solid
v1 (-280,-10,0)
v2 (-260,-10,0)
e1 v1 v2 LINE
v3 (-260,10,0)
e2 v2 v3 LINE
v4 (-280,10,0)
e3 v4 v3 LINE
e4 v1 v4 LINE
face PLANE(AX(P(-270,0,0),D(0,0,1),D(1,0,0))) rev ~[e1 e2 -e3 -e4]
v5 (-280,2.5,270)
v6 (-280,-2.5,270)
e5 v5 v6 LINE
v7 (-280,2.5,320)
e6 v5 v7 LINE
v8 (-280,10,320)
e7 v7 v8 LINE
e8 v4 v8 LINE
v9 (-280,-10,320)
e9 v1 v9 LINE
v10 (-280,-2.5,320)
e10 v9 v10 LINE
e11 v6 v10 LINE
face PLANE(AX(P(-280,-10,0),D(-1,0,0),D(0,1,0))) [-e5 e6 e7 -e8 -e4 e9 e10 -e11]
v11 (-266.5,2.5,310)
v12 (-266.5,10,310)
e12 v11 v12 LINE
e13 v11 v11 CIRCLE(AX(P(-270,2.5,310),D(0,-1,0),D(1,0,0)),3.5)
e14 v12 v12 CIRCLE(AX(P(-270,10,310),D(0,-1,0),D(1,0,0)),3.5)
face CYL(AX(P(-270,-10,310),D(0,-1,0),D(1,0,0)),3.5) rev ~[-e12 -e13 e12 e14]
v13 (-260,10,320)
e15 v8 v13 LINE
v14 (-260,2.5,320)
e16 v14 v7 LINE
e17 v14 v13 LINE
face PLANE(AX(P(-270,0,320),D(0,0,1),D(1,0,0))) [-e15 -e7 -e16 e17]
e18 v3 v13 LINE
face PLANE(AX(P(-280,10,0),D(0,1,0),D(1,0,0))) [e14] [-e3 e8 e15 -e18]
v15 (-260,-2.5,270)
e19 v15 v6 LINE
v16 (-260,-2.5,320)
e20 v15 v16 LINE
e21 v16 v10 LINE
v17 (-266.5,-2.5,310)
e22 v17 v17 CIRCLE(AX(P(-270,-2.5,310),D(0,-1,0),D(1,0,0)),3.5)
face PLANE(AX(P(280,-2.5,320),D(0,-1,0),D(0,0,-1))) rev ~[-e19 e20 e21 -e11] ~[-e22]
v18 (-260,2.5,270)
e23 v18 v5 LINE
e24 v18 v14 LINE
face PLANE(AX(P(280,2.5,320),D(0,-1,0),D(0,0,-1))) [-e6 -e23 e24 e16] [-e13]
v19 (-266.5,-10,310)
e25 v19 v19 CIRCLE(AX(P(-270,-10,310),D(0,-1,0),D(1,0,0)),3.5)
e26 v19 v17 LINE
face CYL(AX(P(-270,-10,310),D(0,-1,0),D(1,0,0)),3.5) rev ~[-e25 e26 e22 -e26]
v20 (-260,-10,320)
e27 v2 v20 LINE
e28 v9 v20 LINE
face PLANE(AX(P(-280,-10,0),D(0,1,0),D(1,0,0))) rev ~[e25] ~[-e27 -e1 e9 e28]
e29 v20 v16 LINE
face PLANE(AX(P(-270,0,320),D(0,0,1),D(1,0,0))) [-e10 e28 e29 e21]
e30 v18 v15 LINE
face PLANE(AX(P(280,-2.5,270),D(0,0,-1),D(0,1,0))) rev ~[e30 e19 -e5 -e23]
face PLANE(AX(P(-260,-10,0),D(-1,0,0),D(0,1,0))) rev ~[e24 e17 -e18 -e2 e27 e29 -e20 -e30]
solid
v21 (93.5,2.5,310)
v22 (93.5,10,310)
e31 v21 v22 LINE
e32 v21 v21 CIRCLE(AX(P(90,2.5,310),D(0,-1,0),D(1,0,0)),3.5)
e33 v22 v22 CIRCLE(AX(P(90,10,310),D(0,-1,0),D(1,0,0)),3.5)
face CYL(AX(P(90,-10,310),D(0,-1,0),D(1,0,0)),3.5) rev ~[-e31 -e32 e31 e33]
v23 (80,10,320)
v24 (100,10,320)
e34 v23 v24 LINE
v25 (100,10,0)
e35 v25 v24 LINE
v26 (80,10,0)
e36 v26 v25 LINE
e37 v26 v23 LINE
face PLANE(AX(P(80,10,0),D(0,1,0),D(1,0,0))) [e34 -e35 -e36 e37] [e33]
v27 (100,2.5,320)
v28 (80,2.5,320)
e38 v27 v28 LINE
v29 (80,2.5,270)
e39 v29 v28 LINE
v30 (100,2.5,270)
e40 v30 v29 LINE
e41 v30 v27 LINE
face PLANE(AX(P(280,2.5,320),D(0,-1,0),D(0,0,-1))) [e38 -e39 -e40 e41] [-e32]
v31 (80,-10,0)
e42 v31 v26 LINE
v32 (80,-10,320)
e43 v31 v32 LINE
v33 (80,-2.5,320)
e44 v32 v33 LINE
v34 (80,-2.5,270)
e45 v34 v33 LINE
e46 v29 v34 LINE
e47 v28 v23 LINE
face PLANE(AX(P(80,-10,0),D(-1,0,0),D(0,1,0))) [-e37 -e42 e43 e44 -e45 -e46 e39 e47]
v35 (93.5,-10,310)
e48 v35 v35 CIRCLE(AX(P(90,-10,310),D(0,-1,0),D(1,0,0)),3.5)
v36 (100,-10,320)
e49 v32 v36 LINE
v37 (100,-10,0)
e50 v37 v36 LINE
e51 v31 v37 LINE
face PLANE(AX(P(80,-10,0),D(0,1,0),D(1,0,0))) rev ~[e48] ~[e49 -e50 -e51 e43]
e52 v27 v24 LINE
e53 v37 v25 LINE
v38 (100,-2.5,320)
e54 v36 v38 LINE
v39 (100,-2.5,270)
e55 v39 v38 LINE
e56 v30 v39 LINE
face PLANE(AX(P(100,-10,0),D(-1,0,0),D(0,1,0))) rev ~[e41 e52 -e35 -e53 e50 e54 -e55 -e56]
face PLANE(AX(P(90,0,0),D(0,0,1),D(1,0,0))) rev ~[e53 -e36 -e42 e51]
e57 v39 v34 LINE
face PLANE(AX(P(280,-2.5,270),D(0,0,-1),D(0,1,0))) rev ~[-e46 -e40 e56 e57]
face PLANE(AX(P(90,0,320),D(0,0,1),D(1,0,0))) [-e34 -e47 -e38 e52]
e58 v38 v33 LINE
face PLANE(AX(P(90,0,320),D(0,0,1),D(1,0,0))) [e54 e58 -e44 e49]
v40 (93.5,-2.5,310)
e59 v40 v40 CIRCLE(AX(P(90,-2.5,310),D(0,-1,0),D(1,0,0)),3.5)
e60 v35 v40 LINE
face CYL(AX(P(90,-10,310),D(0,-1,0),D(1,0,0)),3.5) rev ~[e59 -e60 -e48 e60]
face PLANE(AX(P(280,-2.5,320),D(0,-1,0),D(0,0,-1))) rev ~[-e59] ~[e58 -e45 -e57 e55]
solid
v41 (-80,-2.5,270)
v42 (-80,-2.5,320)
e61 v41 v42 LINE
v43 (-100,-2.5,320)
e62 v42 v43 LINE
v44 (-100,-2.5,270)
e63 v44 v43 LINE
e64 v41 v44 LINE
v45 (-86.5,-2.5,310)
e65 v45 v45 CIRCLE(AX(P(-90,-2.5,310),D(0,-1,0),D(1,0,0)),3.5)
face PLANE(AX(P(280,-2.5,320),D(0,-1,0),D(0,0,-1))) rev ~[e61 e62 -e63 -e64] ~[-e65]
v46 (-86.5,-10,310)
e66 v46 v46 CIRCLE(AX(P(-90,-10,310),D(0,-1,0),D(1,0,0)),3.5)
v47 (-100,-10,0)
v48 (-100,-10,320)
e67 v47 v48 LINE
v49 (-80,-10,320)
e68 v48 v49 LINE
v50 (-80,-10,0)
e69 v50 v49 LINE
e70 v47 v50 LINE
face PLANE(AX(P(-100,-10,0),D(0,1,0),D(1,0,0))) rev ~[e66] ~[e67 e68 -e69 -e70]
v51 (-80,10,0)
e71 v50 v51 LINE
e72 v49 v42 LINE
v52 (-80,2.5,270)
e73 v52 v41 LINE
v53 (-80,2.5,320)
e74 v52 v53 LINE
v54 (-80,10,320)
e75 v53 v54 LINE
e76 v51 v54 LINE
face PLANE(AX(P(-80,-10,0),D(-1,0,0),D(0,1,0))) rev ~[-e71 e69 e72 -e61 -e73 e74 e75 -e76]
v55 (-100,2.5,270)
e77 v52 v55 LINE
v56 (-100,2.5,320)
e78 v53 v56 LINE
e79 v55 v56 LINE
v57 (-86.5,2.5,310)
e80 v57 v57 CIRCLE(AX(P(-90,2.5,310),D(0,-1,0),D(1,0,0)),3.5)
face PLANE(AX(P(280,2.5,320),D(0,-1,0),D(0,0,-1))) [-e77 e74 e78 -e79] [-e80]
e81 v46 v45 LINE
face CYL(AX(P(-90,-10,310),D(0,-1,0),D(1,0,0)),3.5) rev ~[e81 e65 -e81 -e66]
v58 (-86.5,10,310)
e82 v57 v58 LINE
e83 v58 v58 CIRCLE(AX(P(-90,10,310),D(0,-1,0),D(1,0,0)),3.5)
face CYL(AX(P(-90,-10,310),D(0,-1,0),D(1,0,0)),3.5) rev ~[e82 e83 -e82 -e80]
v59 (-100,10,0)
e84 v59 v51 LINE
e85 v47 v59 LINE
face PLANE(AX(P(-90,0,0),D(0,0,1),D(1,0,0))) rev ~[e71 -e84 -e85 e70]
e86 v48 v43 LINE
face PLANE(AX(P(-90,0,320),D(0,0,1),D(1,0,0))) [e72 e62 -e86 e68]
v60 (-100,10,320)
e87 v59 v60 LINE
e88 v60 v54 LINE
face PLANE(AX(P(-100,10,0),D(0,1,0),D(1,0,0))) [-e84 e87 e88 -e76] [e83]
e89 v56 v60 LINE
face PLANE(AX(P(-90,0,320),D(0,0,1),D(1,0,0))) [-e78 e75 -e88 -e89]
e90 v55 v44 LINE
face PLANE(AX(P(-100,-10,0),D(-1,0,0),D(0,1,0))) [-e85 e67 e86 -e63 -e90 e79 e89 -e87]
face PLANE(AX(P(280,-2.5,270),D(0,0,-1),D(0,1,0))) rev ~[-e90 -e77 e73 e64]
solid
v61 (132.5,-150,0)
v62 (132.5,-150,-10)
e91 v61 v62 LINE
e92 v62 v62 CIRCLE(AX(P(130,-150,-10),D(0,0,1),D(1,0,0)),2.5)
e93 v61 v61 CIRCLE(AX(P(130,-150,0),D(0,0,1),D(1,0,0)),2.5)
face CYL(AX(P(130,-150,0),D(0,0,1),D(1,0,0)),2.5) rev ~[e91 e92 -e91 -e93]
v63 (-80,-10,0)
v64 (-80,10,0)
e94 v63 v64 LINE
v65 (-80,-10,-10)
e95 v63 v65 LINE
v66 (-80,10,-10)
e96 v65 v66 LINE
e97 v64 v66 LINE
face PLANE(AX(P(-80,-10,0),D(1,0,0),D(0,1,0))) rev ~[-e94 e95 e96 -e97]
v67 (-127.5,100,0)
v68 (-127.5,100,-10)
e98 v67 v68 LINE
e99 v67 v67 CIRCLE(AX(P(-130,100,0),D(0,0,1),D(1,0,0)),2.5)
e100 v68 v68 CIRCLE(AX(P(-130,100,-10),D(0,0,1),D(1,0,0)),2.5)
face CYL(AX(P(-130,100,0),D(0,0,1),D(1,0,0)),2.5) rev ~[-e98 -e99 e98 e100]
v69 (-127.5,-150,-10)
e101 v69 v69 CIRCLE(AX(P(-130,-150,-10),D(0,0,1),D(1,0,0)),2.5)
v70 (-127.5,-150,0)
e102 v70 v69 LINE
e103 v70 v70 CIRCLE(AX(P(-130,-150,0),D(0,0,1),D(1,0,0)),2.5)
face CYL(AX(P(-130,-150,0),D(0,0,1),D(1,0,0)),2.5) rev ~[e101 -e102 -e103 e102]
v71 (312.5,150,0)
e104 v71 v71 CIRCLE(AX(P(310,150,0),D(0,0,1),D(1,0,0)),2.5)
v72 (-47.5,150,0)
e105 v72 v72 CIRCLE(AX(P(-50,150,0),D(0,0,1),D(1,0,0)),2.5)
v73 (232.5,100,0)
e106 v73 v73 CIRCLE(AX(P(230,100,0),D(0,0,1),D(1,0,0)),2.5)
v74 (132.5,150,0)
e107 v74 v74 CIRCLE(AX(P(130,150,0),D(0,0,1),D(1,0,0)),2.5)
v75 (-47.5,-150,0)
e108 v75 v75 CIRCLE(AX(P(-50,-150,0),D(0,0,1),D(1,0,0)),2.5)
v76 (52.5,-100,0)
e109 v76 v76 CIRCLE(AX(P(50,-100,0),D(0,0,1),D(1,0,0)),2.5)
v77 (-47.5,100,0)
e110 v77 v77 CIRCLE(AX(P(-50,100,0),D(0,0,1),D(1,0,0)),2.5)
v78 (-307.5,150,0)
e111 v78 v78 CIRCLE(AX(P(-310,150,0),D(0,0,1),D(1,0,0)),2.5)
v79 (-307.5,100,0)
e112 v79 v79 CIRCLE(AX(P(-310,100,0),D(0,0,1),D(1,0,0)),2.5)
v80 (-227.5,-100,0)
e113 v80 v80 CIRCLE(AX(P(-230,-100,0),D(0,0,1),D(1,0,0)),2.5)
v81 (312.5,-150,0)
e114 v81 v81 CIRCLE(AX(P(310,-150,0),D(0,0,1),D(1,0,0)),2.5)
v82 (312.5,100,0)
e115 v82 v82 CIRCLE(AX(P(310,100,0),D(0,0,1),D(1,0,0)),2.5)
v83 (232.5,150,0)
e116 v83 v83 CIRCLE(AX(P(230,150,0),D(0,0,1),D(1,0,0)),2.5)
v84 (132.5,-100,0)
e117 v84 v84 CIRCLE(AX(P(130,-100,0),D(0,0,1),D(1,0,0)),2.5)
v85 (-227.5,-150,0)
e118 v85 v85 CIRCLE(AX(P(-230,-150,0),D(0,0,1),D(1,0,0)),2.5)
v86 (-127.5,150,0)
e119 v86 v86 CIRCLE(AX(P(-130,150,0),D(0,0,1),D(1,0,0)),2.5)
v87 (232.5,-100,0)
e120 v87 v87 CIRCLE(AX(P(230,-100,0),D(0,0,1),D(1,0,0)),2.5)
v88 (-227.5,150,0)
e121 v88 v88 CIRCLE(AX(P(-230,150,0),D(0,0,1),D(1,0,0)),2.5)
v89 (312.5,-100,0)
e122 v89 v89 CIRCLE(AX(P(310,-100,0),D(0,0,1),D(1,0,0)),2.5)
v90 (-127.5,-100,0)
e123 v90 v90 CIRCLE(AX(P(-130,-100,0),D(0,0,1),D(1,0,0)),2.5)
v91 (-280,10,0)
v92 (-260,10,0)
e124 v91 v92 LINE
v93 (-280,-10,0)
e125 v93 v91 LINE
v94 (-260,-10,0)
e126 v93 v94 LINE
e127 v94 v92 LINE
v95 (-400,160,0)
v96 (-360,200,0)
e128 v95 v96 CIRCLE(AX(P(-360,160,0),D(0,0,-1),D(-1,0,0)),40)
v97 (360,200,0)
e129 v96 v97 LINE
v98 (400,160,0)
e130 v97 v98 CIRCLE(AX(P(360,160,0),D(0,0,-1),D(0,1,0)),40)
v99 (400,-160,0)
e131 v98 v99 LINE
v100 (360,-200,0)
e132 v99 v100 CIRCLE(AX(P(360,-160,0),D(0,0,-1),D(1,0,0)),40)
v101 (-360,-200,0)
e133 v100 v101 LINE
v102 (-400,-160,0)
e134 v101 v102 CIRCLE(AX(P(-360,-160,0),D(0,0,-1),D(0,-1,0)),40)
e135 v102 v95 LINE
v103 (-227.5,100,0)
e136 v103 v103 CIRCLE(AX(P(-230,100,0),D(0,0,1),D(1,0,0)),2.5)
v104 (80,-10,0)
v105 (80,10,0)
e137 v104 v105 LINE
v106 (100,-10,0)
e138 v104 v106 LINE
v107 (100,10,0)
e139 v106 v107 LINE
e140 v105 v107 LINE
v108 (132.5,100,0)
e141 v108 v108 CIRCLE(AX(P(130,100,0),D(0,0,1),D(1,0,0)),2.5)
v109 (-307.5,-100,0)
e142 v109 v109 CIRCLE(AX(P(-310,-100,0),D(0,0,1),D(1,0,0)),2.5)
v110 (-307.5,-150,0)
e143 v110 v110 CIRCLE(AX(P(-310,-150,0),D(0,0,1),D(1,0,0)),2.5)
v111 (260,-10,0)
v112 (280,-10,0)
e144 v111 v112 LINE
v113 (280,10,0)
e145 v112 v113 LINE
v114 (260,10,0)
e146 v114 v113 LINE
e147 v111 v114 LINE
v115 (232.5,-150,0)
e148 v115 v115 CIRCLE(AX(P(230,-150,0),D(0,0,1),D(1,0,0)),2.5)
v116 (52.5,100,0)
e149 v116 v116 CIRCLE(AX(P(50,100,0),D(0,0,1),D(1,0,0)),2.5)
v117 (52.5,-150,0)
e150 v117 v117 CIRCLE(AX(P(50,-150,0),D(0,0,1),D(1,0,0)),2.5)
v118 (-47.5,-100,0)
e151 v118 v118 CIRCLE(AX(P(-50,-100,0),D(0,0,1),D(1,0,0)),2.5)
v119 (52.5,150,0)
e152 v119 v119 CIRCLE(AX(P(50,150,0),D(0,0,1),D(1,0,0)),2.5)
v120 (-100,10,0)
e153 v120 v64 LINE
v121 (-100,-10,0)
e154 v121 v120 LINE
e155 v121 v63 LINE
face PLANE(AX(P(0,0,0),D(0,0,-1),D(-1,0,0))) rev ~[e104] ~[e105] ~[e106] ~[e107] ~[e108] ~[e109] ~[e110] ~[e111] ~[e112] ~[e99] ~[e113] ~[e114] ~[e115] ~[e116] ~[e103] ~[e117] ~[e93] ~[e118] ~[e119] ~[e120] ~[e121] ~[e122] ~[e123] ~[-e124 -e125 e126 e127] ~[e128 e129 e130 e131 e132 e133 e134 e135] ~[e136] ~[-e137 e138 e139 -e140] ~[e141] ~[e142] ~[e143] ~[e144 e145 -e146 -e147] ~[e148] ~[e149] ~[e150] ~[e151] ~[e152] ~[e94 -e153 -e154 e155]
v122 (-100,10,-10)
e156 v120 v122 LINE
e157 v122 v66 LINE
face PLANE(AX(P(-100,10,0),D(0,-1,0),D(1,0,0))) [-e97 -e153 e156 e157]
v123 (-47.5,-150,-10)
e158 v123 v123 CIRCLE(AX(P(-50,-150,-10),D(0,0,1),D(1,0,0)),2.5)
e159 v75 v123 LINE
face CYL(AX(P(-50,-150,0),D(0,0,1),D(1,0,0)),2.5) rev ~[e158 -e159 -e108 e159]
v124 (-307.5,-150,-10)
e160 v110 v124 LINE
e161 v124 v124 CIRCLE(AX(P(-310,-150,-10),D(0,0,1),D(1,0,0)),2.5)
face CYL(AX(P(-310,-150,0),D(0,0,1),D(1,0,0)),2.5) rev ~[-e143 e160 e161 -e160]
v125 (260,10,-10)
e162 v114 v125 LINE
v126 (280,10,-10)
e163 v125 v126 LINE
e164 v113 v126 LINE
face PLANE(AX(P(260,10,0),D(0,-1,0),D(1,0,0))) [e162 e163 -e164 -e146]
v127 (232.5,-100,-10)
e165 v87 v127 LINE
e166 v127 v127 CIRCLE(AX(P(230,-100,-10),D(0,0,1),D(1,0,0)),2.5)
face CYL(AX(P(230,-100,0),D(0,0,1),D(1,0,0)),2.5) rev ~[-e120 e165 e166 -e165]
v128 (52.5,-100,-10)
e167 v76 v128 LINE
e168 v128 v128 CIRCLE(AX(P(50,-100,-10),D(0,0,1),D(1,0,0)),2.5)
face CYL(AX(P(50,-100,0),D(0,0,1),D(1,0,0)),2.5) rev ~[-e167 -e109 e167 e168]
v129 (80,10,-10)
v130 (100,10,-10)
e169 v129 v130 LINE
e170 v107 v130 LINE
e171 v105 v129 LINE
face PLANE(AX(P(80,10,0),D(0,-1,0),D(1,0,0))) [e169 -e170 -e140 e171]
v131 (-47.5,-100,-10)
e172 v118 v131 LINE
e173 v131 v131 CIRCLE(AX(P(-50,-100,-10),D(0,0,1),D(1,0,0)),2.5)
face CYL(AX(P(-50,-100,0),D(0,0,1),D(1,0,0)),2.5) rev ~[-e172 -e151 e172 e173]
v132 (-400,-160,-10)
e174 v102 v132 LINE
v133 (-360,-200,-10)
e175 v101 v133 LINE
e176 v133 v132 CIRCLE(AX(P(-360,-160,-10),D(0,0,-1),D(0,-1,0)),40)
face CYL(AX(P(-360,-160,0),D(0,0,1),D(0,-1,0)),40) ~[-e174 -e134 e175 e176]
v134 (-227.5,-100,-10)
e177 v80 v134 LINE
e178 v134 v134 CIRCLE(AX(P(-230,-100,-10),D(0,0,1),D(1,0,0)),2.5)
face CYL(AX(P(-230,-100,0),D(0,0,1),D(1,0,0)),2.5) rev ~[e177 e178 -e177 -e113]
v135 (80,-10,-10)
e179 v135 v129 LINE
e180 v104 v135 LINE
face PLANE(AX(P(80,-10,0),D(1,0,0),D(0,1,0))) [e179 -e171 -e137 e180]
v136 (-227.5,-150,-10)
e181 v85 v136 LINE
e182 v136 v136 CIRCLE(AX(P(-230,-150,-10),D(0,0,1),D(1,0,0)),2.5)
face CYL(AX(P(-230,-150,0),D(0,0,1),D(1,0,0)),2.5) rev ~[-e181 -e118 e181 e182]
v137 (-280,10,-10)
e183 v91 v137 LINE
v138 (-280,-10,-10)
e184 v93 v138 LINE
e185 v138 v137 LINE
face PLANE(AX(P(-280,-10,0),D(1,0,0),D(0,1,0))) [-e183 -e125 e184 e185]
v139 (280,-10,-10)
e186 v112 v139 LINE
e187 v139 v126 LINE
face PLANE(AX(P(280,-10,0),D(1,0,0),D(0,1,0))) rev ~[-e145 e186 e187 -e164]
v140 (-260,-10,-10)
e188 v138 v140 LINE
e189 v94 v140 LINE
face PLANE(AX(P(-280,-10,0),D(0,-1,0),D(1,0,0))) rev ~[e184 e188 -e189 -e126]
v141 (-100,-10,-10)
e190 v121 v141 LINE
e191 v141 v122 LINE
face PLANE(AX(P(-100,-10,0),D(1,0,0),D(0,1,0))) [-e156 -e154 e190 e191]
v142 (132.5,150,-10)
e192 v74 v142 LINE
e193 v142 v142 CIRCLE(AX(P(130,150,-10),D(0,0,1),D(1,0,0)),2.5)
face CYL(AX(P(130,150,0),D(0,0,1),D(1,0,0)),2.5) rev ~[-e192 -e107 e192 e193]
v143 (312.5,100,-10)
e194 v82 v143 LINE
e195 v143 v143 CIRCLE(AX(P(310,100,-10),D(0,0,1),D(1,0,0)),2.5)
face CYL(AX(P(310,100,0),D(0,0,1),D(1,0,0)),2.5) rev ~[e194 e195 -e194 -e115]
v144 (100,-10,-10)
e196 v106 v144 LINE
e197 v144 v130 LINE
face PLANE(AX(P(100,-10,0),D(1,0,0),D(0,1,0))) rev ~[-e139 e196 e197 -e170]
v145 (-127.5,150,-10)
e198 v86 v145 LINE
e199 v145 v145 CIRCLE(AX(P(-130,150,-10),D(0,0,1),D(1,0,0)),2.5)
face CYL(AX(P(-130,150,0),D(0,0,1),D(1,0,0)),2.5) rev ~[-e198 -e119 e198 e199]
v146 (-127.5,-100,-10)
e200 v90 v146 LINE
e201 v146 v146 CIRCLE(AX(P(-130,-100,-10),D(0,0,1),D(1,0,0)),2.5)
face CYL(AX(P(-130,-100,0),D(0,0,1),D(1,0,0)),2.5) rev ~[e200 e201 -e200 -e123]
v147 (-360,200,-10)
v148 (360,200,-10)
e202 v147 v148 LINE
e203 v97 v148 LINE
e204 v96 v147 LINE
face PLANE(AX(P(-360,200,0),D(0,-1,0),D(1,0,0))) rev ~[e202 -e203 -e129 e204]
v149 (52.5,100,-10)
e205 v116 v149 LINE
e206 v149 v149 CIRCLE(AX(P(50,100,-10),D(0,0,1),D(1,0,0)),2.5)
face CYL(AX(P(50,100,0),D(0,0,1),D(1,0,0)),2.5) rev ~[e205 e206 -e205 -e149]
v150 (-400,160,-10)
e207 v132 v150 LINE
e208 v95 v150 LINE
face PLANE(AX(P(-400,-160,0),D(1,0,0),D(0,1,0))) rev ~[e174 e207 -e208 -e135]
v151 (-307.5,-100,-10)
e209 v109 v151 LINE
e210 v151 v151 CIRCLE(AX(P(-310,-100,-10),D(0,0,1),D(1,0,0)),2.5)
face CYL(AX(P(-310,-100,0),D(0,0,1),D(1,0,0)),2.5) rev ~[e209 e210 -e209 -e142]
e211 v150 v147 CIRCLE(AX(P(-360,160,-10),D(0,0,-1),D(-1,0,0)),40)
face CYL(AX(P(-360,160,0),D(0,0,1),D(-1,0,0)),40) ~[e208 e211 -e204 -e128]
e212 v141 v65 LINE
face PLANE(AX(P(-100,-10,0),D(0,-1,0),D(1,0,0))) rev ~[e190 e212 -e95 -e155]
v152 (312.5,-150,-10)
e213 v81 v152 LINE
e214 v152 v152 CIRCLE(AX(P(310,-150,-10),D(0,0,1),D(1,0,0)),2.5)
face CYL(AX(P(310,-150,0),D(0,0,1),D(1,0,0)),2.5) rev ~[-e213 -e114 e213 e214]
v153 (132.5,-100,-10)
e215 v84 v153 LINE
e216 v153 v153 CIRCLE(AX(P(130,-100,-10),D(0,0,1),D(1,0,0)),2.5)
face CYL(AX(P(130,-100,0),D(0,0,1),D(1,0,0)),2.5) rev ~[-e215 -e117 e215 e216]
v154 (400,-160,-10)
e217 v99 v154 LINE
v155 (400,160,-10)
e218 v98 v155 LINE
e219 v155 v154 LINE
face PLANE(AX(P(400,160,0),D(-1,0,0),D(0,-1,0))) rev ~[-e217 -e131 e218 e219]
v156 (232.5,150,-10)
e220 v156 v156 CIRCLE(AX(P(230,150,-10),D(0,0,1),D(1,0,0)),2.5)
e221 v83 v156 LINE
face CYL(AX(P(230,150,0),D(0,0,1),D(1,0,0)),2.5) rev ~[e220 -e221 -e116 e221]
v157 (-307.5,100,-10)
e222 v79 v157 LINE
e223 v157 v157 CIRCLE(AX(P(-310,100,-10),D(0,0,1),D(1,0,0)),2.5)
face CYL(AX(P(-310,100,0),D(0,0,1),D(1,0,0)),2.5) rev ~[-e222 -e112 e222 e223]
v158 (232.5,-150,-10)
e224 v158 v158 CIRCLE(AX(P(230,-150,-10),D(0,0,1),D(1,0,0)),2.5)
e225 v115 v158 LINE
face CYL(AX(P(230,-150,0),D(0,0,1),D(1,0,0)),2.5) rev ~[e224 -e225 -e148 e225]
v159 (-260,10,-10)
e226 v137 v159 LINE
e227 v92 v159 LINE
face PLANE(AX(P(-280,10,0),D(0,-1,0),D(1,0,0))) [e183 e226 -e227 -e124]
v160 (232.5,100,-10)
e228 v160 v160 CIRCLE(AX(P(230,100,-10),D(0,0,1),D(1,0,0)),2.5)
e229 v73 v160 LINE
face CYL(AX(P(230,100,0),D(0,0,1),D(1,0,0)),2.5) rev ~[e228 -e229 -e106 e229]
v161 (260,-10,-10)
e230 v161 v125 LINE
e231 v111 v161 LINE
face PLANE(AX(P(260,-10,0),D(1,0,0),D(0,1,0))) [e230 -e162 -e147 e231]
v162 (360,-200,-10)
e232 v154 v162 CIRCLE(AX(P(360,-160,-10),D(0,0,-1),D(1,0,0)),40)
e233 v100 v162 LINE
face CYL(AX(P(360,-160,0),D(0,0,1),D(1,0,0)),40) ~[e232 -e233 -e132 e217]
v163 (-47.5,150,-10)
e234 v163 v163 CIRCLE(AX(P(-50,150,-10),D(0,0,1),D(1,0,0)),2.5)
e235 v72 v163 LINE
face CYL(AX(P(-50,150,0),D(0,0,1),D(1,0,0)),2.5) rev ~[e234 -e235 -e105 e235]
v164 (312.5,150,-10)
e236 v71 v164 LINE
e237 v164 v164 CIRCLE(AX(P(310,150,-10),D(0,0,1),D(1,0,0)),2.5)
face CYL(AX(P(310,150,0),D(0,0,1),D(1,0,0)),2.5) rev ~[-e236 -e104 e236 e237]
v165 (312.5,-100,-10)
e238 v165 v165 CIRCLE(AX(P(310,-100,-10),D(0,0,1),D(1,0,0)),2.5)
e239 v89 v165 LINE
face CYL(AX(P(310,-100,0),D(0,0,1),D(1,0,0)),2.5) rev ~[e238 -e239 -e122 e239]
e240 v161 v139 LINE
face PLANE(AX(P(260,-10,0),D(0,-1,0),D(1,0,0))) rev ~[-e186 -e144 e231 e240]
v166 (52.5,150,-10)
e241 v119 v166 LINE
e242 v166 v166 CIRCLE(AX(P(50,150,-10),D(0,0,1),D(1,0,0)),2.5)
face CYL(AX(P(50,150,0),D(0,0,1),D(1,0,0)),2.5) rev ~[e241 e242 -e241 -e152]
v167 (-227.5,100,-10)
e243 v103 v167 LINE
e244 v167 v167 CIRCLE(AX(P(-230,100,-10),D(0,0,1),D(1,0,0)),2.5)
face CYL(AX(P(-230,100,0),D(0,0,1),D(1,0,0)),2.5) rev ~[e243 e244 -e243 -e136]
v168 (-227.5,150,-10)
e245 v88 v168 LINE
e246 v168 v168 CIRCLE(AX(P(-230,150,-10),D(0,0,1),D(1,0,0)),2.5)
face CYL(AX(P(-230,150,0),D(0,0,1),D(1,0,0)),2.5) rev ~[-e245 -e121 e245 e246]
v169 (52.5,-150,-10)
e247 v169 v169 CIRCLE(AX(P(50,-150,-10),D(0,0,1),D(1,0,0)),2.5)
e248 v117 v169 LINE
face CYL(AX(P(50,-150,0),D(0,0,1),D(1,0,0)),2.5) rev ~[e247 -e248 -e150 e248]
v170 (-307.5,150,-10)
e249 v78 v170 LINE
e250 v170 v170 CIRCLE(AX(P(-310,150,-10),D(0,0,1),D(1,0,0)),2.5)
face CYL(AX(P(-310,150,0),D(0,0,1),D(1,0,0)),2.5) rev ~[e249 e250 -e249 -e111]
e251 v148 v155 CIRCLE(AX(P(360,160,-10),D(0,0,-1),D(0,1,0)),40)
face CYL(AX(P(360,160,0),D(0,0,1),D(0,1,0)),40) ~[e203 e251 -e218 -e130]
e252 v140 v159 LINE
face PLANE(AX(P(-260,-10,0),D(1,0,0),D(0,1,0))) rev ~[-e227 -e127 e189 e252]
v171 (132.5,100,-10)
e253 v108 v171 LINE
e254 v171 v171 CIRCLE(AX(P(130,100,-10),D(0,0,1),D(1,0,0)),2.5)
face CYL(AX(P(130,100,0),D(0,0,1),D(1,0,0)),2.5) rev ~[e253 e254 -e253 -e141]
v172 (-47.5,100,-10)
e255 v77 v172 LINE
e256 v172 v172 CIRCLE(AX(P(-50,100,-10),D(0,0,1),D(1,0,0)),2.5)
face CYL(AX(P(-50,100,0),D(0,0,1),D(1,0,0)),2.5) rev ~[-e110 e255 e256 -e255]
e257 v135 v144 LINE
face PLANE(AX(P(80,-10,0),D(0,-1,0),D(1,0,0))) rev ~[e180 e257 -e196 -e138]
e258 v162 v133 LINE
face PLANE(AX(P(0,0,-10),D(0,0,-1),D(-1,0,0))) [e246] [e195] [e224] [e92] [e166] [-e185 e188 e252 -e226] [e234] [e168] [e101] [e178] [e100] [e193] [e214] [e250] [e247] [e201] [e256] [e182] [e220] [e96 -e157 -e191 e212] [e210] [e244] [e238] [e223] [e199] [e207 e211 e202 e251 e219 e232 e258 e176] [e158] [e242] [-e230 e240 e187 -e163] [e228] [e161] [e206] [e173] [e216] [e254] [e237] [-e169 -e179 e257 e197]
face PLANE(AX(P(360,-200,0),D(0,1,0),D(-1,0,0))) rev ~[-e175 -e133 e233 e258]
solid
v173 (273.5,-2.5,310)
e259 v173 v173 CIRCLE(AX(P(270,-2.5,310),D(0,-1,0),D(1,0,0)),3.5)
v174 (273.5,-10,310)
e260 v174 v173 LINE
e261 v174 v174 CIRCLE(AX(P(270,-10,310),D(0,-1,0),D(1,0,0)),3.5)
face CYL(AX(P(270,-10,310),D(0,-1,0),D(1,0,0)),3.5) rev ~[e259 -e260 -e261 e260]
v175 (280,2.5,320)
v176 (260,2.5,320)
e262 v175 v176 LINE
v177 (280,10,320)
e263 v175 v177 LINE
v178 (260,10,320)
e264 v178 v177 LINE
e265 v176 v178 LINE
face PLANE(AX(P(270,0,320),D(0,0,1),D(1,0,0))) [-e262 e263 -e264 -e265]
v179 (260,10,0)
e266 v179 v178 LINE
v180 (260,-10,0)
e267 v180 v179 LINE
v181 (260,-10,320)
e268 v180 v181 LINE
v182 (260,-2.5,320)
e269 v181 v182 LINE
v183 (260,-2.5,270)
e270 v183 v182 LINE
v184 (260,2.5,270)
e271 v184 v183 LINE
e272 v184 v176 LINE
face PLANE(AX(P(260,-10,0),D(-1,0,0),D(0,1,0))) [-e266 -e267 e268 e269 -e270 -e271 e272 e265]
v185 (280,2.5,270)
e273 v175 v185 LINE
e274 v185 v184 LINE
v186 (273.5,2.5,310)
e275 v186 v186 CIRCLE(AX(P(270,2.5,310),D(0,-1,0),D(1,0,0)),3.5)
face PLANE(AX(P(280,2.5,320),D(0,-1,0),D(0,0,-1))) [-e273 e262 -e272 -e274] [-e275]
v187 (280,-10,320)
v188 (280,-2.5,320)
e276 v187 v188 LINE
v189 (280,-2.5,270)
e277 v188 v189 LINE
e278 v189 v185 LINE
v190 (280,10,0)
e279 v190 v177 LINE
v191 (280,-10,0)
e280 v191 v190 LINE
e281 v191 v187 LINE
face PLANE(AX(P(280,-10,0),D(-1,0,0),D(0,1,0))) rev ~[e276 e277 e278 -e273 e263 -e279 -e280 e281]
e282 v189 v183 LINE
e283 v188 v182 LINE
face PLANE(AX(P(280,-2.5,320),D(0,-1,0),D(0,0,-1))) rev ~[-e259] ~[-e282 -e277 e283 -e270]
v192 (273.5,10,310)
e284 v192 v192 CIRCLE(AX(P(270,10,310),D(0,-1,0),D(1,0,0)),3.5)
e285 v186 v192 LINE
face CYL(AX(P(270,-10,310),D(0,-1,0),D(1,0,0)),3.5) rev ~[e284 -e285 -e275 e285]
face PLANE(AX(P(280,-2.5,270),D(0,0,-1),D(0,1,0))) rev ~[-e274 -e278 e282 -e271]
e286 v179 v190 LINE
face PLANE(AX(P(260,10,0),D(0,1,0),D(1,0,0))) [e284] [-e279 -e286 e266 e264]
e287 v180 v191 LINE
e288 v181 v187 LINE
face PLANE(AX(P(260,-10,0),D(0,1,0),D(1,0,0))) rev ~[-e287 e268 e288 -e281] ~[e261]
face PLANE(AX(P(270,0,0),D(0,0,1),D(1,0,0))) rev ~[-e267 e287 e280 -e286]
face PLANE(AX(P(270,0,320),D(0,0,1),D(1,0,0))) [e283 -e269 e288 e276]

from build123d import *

# Parameters (mm, degrees)
SKETCH1_W             = 20
SKETCH1_H             = 20
SKETCH1_R             = 2.5
BOSS_EXTRUDE8_DEPTH   = 10
SKETCH1_12_W          = 20
SKETCH1_12_H          = 20
BOSS_EXTRUDE9_DEPTH   = 320
BOSS_EXTRUDE9_2_DEPTH = 320
BOSS_EXTRUDE9_3_DEPTH = 320
BOSS_EXTRUDE9_4_DEPTH = 320
SKETCH4_R             = 3.5
CUT_EXTRUDE14_DEPTH   = 210
SKETCH5_W             = 50
SKETCH5_H             = 5
CUT_EXTRUDE18_DEPTH   = 778.688883809


with BuildPart() as part:
    # Sketch1 → Boss-Extrude8 (new body)
    with BuildSketch(Plane.XY):
        with BuildLine():
            Line((360, 200), (-360, 200))
            ThreePointArc((-360, 200), (-388.284271247, 188.284271247), (-400, 160))
            Line((-400, 160), (-400, -160))
            ThreePointArc((-400, -160), (-388.284271247, -188.284271247), (-360, -200))
            Line((-360, -200), (360, -200))
            ThreePointArc((360, -200), (388.284271247, -188.284271247), (400, -160))
            Line((400, -160), (400, 160))
            ThreePointArc((400, 160), (388.284271247, 188.284271247), (360, 200))
        make_face()
        with Locations((-270, 0)):
            Rectangle(SKETCH1_W, SKETCH1_H, mode=Mode.SUBTRACT)
        with Locations((-90, 0)):
            Rectangle(SKETCH1_W, SKETCH1_H, mode=Mode.SUBTRACT)
        with Locations((90, 0)):
            Rectangle(SKETCH1_W, SKETCH1_H, mode=Mode.SUBTRACT)
        with Locations((270, 0)):
            Rectangle(SKETCH1_W, SKETCH1_H, mode=Mode.SUBTRACT)
        with Locations((-310, -150)):
            Circle(SKETCH1_R, mode=Mode.SUBTRACT)
        with Locations((-310, -100)):
            Circle(SKETCH1_R, mode=Mode.SUBTRACT)
        with Locations((-230, -150)):
            Circle(SKETCH1_R, mode=Mode.SUBTRACT)
        with Locations((-230, -100)):
            Circle(SKETCH1_R, mode=Mode.SUBTRACT)
        with Locations((-130, -150)):
            Circle(SKETCH1_R, mode=Mode.SUBTRACT)
        with Locations((-50, -150)):
            Circle(SKETCH1_R, mode=Mode.SUBTRACT)
        with Locations((-50, -100)):
            Circle(SKETCH1_R, mode=Mode.SUBTRACT)
        with Locations((-130, -100)):
            Circle(SKETCH1_R, mode=Mode.SUBTRACT)
        with Locations((50, -150)):
            Circle(SKETCH1_R, mode=Mode.SUBTRACT)
        with Locations((50, -100)):
            Circle(SKETCH1_R, mode=Mode.SUBTRACT)
        with Locations((130, -150)):
            Circle(SKETCH1_R, mode=Mode.SUBTRACT)
        with Locations((130, -100)):
            Circle(SKETCH1_R, mode=Mode.SUBTRACT)
        with Locations((230, -150)):
            Circle(SKETCH1_R, mode=Mode.SUBTRACT)
        with Locations((310, -150)):
            Circle(SKETCH1_R, mode=Mode.SUBTRACT)
        with Locations((310, -100)):
            Circle(SKETCH1_R, mode=Mode.SUBTRACT)
        with Locations((230, -100)):
            Circle(SKETCH1_R, mode=Mode.SUBTRACT)
        with Locations((-310, 100)):
            Circle(SKETCH1_R, mode=Mode.SUBTRACT)
        with Locations((-310, 150)):
            Circle(SKETCH1_R, mode=Mode.SUBTRACT)
        with Locations((-230, 100)):
            Circle(SKETCH1_R, mode=Mode.SUBTRACT)
        with Locations((-230, 150)):
            Circle(SKETCH1_R, mode=Mode.SUBTRACT)
        with Locations((-130, 100)):
            Circle(SKETCH1_R, mode=Mode.SUBTRACT)
        with Locations((-130, 150)):
            Circle(SKETCH1_R, mode=Mode.SUBTRACT)
        with Locations((-50, 100)):
            Circle(SKETCH1_R, mode=Mode.SUBTRACT)
        with Locations((-50, 150)):
            Circle(SKETCH1_R, mode=Mode.SUBTRACT)
        with Locations((50, 100)):
            Circle(SKETCH1_R, mode=Mode.SUBTRACT)
        with Locations((50, 150)):
            Circle(SKETCH1_R, mode=Mode.SUBTRACT)
        with Locations((130, 100)):
            Circle(SKETCH1_R, mode=Mode.SUBTRACT)
        with Locations((130, 150)):
            Circle(SKETCH1_R, mode=Mode.SUBTRACT)
        with Locations((230, 100)):
            Circle(SKETCH1_R, mode=Mode.SUBTRACT)
        with Locations((230, 150)):
            Circle(SKETCH1_R, mode=Mode.SUBTRACT)
        with Locations((310, 100)):
            Circle(SKETCH1_R, mode=Mode.SUBTRACT)
        with Locations((310, 150)):
            Circle(SKETCH1_R, mode=Mode.SUBTRACT)
    extrude(amount=-BOSS_EXTRUDE8_DEPTH)


with BuildPart() as body_2:
    # Sketch1<12> → Boss-Extrude9 (new body)
    with BuildSketch(Plane.XY):
        with Locations((270, 0)):
            Rectangle(SKETCH1_12_W, SKETCH1_12_H)
    extrude(amount=BOSS_EXTRUDE9_DEPTH)


with BuildPart() as body_3:
    # Sketch1<12> → Boss-Extrude9 2 (new body)
    with BuildSketch(Plane.XY):
        with Locations((90, 0)):
            Rectangle(SKETCH1_12_W, SKETCH1_12_H)
    extrude(amount=BOSS_EXTRUDE9_2_DEPTH)


with BuildPart() as body_4:
    # Sketch1<12> → Boss-Extrude9 3 (new body)
    with BuildSketch(Plane.XY):
        with Locations((-90, 0)):
            Rectangle(SKETCH1_12_W, SKETCH1_12_H)
    extrude(amount=BOSS_EXTRUDE9_3_DEPTH)


with BuildPart() as body_5:
    # Sketch1<12> → Boss-Extrude9 4 (new body)
    with BuildSketch(Plane.XY):
        with Locations((-270, 0)):
            Rectangle(SKETCH1_12_W, SKETCH1_12_H)
    extrude(amount=BOSS_EXTRUDE9_4_DEPTH)


with BuildPart() as cut_extrude14_tool:
    # Sketch4 → Cut-Extrude14 (new body)
    with BuildSketch(Plane.XZ.offset(10)):
        with Locations((-270, 310)):
            Circle(SKETCH4_R)
        with Locations((-90, 310)):
            Circle(SKETCH4_R)
        with Locations((90, 310)):
            Circle(SKETCH4_R)
        with Locations((270, 310)):
            Circle(SKETCH4_R)
    extrude(amount=-CUT_EXTRUDE14_DEPTH)


with BuildPart() as body_2_1:
    add(body_2.part)

    # Cut-Extrude14: cut by cut_extrude14_tool
    add(cut_extrude14_tool.part, mode=Mode.SUBTRACT)


with BuildPart() as body_3_1:
    add(body_3.part)

    # Cut-Extrude14: cut by cut_extrude14_tool
    add(cut_extrude14_tool.part, mode=Mode.SUBTRACT)


with BuildPart() as body_4_1:
    add(body_4.part)

    # Cut-Extrude14: cut by cut_extrude14_tool
    add(cut_extrude14_tool.part, mode=Mode.SUBTRACT)


with BuildPart() as body_5_1:
    add(body_5.part)

    # Cut-Extrude14: cut by cut_extrude14_tool
    add(cut_extrude14_tool.part, mode=Mode.SUBTRACT)


with BuildPart() as cut_extrude18_tool:
    # Sketch5 → Cut-Extrude18 (new, through all)
    with BuildSketch(Plane(origin=(280, 0, 0), x_dir=(0, 0, -1), z_dir=(1, 0, 0))):
        with Locations((-295, 0)):
            Rectangle(SKETCH5_W, SKETCH5_H)
    extrude(amount=-CUT_EXTRUDE18_DEPTH)


with BuildPart() as body_2_2:
    add(body_2_1.part)

    # Cut-Extrude18: cut by cut_extrude18_tool
    add(cut_extrude18_tool.part, mode=Mode.SUBTRACT)


with BuildPart() as body_3_2:
    add(body_3_1.part)

    # Cut-Extrude18: cut by cut_extrude18_tool
    add(cut_extrude18_tool.part, mode=Mode.SUBTRACT)


with BuildPart() as body_4_2:
    add(body_4_1.part)

    # Cut-Extrude18: cut by cut_extrude18_tool
    add(cut_extrude18_tool.part, mode=Mode.SUBTRACT)


with BuildPart() as body_5_2:
    add(body_5_1.part)

    # Cut-Extrude18: cut by cut_extrude18_tool
    add(cut_extrude18_tool.part, mode=Mode.SUBTRACT)


solid = Compound([part.part, body_2_2.part, body_3_2.part, body_4_2.part, body_5_2.part])
